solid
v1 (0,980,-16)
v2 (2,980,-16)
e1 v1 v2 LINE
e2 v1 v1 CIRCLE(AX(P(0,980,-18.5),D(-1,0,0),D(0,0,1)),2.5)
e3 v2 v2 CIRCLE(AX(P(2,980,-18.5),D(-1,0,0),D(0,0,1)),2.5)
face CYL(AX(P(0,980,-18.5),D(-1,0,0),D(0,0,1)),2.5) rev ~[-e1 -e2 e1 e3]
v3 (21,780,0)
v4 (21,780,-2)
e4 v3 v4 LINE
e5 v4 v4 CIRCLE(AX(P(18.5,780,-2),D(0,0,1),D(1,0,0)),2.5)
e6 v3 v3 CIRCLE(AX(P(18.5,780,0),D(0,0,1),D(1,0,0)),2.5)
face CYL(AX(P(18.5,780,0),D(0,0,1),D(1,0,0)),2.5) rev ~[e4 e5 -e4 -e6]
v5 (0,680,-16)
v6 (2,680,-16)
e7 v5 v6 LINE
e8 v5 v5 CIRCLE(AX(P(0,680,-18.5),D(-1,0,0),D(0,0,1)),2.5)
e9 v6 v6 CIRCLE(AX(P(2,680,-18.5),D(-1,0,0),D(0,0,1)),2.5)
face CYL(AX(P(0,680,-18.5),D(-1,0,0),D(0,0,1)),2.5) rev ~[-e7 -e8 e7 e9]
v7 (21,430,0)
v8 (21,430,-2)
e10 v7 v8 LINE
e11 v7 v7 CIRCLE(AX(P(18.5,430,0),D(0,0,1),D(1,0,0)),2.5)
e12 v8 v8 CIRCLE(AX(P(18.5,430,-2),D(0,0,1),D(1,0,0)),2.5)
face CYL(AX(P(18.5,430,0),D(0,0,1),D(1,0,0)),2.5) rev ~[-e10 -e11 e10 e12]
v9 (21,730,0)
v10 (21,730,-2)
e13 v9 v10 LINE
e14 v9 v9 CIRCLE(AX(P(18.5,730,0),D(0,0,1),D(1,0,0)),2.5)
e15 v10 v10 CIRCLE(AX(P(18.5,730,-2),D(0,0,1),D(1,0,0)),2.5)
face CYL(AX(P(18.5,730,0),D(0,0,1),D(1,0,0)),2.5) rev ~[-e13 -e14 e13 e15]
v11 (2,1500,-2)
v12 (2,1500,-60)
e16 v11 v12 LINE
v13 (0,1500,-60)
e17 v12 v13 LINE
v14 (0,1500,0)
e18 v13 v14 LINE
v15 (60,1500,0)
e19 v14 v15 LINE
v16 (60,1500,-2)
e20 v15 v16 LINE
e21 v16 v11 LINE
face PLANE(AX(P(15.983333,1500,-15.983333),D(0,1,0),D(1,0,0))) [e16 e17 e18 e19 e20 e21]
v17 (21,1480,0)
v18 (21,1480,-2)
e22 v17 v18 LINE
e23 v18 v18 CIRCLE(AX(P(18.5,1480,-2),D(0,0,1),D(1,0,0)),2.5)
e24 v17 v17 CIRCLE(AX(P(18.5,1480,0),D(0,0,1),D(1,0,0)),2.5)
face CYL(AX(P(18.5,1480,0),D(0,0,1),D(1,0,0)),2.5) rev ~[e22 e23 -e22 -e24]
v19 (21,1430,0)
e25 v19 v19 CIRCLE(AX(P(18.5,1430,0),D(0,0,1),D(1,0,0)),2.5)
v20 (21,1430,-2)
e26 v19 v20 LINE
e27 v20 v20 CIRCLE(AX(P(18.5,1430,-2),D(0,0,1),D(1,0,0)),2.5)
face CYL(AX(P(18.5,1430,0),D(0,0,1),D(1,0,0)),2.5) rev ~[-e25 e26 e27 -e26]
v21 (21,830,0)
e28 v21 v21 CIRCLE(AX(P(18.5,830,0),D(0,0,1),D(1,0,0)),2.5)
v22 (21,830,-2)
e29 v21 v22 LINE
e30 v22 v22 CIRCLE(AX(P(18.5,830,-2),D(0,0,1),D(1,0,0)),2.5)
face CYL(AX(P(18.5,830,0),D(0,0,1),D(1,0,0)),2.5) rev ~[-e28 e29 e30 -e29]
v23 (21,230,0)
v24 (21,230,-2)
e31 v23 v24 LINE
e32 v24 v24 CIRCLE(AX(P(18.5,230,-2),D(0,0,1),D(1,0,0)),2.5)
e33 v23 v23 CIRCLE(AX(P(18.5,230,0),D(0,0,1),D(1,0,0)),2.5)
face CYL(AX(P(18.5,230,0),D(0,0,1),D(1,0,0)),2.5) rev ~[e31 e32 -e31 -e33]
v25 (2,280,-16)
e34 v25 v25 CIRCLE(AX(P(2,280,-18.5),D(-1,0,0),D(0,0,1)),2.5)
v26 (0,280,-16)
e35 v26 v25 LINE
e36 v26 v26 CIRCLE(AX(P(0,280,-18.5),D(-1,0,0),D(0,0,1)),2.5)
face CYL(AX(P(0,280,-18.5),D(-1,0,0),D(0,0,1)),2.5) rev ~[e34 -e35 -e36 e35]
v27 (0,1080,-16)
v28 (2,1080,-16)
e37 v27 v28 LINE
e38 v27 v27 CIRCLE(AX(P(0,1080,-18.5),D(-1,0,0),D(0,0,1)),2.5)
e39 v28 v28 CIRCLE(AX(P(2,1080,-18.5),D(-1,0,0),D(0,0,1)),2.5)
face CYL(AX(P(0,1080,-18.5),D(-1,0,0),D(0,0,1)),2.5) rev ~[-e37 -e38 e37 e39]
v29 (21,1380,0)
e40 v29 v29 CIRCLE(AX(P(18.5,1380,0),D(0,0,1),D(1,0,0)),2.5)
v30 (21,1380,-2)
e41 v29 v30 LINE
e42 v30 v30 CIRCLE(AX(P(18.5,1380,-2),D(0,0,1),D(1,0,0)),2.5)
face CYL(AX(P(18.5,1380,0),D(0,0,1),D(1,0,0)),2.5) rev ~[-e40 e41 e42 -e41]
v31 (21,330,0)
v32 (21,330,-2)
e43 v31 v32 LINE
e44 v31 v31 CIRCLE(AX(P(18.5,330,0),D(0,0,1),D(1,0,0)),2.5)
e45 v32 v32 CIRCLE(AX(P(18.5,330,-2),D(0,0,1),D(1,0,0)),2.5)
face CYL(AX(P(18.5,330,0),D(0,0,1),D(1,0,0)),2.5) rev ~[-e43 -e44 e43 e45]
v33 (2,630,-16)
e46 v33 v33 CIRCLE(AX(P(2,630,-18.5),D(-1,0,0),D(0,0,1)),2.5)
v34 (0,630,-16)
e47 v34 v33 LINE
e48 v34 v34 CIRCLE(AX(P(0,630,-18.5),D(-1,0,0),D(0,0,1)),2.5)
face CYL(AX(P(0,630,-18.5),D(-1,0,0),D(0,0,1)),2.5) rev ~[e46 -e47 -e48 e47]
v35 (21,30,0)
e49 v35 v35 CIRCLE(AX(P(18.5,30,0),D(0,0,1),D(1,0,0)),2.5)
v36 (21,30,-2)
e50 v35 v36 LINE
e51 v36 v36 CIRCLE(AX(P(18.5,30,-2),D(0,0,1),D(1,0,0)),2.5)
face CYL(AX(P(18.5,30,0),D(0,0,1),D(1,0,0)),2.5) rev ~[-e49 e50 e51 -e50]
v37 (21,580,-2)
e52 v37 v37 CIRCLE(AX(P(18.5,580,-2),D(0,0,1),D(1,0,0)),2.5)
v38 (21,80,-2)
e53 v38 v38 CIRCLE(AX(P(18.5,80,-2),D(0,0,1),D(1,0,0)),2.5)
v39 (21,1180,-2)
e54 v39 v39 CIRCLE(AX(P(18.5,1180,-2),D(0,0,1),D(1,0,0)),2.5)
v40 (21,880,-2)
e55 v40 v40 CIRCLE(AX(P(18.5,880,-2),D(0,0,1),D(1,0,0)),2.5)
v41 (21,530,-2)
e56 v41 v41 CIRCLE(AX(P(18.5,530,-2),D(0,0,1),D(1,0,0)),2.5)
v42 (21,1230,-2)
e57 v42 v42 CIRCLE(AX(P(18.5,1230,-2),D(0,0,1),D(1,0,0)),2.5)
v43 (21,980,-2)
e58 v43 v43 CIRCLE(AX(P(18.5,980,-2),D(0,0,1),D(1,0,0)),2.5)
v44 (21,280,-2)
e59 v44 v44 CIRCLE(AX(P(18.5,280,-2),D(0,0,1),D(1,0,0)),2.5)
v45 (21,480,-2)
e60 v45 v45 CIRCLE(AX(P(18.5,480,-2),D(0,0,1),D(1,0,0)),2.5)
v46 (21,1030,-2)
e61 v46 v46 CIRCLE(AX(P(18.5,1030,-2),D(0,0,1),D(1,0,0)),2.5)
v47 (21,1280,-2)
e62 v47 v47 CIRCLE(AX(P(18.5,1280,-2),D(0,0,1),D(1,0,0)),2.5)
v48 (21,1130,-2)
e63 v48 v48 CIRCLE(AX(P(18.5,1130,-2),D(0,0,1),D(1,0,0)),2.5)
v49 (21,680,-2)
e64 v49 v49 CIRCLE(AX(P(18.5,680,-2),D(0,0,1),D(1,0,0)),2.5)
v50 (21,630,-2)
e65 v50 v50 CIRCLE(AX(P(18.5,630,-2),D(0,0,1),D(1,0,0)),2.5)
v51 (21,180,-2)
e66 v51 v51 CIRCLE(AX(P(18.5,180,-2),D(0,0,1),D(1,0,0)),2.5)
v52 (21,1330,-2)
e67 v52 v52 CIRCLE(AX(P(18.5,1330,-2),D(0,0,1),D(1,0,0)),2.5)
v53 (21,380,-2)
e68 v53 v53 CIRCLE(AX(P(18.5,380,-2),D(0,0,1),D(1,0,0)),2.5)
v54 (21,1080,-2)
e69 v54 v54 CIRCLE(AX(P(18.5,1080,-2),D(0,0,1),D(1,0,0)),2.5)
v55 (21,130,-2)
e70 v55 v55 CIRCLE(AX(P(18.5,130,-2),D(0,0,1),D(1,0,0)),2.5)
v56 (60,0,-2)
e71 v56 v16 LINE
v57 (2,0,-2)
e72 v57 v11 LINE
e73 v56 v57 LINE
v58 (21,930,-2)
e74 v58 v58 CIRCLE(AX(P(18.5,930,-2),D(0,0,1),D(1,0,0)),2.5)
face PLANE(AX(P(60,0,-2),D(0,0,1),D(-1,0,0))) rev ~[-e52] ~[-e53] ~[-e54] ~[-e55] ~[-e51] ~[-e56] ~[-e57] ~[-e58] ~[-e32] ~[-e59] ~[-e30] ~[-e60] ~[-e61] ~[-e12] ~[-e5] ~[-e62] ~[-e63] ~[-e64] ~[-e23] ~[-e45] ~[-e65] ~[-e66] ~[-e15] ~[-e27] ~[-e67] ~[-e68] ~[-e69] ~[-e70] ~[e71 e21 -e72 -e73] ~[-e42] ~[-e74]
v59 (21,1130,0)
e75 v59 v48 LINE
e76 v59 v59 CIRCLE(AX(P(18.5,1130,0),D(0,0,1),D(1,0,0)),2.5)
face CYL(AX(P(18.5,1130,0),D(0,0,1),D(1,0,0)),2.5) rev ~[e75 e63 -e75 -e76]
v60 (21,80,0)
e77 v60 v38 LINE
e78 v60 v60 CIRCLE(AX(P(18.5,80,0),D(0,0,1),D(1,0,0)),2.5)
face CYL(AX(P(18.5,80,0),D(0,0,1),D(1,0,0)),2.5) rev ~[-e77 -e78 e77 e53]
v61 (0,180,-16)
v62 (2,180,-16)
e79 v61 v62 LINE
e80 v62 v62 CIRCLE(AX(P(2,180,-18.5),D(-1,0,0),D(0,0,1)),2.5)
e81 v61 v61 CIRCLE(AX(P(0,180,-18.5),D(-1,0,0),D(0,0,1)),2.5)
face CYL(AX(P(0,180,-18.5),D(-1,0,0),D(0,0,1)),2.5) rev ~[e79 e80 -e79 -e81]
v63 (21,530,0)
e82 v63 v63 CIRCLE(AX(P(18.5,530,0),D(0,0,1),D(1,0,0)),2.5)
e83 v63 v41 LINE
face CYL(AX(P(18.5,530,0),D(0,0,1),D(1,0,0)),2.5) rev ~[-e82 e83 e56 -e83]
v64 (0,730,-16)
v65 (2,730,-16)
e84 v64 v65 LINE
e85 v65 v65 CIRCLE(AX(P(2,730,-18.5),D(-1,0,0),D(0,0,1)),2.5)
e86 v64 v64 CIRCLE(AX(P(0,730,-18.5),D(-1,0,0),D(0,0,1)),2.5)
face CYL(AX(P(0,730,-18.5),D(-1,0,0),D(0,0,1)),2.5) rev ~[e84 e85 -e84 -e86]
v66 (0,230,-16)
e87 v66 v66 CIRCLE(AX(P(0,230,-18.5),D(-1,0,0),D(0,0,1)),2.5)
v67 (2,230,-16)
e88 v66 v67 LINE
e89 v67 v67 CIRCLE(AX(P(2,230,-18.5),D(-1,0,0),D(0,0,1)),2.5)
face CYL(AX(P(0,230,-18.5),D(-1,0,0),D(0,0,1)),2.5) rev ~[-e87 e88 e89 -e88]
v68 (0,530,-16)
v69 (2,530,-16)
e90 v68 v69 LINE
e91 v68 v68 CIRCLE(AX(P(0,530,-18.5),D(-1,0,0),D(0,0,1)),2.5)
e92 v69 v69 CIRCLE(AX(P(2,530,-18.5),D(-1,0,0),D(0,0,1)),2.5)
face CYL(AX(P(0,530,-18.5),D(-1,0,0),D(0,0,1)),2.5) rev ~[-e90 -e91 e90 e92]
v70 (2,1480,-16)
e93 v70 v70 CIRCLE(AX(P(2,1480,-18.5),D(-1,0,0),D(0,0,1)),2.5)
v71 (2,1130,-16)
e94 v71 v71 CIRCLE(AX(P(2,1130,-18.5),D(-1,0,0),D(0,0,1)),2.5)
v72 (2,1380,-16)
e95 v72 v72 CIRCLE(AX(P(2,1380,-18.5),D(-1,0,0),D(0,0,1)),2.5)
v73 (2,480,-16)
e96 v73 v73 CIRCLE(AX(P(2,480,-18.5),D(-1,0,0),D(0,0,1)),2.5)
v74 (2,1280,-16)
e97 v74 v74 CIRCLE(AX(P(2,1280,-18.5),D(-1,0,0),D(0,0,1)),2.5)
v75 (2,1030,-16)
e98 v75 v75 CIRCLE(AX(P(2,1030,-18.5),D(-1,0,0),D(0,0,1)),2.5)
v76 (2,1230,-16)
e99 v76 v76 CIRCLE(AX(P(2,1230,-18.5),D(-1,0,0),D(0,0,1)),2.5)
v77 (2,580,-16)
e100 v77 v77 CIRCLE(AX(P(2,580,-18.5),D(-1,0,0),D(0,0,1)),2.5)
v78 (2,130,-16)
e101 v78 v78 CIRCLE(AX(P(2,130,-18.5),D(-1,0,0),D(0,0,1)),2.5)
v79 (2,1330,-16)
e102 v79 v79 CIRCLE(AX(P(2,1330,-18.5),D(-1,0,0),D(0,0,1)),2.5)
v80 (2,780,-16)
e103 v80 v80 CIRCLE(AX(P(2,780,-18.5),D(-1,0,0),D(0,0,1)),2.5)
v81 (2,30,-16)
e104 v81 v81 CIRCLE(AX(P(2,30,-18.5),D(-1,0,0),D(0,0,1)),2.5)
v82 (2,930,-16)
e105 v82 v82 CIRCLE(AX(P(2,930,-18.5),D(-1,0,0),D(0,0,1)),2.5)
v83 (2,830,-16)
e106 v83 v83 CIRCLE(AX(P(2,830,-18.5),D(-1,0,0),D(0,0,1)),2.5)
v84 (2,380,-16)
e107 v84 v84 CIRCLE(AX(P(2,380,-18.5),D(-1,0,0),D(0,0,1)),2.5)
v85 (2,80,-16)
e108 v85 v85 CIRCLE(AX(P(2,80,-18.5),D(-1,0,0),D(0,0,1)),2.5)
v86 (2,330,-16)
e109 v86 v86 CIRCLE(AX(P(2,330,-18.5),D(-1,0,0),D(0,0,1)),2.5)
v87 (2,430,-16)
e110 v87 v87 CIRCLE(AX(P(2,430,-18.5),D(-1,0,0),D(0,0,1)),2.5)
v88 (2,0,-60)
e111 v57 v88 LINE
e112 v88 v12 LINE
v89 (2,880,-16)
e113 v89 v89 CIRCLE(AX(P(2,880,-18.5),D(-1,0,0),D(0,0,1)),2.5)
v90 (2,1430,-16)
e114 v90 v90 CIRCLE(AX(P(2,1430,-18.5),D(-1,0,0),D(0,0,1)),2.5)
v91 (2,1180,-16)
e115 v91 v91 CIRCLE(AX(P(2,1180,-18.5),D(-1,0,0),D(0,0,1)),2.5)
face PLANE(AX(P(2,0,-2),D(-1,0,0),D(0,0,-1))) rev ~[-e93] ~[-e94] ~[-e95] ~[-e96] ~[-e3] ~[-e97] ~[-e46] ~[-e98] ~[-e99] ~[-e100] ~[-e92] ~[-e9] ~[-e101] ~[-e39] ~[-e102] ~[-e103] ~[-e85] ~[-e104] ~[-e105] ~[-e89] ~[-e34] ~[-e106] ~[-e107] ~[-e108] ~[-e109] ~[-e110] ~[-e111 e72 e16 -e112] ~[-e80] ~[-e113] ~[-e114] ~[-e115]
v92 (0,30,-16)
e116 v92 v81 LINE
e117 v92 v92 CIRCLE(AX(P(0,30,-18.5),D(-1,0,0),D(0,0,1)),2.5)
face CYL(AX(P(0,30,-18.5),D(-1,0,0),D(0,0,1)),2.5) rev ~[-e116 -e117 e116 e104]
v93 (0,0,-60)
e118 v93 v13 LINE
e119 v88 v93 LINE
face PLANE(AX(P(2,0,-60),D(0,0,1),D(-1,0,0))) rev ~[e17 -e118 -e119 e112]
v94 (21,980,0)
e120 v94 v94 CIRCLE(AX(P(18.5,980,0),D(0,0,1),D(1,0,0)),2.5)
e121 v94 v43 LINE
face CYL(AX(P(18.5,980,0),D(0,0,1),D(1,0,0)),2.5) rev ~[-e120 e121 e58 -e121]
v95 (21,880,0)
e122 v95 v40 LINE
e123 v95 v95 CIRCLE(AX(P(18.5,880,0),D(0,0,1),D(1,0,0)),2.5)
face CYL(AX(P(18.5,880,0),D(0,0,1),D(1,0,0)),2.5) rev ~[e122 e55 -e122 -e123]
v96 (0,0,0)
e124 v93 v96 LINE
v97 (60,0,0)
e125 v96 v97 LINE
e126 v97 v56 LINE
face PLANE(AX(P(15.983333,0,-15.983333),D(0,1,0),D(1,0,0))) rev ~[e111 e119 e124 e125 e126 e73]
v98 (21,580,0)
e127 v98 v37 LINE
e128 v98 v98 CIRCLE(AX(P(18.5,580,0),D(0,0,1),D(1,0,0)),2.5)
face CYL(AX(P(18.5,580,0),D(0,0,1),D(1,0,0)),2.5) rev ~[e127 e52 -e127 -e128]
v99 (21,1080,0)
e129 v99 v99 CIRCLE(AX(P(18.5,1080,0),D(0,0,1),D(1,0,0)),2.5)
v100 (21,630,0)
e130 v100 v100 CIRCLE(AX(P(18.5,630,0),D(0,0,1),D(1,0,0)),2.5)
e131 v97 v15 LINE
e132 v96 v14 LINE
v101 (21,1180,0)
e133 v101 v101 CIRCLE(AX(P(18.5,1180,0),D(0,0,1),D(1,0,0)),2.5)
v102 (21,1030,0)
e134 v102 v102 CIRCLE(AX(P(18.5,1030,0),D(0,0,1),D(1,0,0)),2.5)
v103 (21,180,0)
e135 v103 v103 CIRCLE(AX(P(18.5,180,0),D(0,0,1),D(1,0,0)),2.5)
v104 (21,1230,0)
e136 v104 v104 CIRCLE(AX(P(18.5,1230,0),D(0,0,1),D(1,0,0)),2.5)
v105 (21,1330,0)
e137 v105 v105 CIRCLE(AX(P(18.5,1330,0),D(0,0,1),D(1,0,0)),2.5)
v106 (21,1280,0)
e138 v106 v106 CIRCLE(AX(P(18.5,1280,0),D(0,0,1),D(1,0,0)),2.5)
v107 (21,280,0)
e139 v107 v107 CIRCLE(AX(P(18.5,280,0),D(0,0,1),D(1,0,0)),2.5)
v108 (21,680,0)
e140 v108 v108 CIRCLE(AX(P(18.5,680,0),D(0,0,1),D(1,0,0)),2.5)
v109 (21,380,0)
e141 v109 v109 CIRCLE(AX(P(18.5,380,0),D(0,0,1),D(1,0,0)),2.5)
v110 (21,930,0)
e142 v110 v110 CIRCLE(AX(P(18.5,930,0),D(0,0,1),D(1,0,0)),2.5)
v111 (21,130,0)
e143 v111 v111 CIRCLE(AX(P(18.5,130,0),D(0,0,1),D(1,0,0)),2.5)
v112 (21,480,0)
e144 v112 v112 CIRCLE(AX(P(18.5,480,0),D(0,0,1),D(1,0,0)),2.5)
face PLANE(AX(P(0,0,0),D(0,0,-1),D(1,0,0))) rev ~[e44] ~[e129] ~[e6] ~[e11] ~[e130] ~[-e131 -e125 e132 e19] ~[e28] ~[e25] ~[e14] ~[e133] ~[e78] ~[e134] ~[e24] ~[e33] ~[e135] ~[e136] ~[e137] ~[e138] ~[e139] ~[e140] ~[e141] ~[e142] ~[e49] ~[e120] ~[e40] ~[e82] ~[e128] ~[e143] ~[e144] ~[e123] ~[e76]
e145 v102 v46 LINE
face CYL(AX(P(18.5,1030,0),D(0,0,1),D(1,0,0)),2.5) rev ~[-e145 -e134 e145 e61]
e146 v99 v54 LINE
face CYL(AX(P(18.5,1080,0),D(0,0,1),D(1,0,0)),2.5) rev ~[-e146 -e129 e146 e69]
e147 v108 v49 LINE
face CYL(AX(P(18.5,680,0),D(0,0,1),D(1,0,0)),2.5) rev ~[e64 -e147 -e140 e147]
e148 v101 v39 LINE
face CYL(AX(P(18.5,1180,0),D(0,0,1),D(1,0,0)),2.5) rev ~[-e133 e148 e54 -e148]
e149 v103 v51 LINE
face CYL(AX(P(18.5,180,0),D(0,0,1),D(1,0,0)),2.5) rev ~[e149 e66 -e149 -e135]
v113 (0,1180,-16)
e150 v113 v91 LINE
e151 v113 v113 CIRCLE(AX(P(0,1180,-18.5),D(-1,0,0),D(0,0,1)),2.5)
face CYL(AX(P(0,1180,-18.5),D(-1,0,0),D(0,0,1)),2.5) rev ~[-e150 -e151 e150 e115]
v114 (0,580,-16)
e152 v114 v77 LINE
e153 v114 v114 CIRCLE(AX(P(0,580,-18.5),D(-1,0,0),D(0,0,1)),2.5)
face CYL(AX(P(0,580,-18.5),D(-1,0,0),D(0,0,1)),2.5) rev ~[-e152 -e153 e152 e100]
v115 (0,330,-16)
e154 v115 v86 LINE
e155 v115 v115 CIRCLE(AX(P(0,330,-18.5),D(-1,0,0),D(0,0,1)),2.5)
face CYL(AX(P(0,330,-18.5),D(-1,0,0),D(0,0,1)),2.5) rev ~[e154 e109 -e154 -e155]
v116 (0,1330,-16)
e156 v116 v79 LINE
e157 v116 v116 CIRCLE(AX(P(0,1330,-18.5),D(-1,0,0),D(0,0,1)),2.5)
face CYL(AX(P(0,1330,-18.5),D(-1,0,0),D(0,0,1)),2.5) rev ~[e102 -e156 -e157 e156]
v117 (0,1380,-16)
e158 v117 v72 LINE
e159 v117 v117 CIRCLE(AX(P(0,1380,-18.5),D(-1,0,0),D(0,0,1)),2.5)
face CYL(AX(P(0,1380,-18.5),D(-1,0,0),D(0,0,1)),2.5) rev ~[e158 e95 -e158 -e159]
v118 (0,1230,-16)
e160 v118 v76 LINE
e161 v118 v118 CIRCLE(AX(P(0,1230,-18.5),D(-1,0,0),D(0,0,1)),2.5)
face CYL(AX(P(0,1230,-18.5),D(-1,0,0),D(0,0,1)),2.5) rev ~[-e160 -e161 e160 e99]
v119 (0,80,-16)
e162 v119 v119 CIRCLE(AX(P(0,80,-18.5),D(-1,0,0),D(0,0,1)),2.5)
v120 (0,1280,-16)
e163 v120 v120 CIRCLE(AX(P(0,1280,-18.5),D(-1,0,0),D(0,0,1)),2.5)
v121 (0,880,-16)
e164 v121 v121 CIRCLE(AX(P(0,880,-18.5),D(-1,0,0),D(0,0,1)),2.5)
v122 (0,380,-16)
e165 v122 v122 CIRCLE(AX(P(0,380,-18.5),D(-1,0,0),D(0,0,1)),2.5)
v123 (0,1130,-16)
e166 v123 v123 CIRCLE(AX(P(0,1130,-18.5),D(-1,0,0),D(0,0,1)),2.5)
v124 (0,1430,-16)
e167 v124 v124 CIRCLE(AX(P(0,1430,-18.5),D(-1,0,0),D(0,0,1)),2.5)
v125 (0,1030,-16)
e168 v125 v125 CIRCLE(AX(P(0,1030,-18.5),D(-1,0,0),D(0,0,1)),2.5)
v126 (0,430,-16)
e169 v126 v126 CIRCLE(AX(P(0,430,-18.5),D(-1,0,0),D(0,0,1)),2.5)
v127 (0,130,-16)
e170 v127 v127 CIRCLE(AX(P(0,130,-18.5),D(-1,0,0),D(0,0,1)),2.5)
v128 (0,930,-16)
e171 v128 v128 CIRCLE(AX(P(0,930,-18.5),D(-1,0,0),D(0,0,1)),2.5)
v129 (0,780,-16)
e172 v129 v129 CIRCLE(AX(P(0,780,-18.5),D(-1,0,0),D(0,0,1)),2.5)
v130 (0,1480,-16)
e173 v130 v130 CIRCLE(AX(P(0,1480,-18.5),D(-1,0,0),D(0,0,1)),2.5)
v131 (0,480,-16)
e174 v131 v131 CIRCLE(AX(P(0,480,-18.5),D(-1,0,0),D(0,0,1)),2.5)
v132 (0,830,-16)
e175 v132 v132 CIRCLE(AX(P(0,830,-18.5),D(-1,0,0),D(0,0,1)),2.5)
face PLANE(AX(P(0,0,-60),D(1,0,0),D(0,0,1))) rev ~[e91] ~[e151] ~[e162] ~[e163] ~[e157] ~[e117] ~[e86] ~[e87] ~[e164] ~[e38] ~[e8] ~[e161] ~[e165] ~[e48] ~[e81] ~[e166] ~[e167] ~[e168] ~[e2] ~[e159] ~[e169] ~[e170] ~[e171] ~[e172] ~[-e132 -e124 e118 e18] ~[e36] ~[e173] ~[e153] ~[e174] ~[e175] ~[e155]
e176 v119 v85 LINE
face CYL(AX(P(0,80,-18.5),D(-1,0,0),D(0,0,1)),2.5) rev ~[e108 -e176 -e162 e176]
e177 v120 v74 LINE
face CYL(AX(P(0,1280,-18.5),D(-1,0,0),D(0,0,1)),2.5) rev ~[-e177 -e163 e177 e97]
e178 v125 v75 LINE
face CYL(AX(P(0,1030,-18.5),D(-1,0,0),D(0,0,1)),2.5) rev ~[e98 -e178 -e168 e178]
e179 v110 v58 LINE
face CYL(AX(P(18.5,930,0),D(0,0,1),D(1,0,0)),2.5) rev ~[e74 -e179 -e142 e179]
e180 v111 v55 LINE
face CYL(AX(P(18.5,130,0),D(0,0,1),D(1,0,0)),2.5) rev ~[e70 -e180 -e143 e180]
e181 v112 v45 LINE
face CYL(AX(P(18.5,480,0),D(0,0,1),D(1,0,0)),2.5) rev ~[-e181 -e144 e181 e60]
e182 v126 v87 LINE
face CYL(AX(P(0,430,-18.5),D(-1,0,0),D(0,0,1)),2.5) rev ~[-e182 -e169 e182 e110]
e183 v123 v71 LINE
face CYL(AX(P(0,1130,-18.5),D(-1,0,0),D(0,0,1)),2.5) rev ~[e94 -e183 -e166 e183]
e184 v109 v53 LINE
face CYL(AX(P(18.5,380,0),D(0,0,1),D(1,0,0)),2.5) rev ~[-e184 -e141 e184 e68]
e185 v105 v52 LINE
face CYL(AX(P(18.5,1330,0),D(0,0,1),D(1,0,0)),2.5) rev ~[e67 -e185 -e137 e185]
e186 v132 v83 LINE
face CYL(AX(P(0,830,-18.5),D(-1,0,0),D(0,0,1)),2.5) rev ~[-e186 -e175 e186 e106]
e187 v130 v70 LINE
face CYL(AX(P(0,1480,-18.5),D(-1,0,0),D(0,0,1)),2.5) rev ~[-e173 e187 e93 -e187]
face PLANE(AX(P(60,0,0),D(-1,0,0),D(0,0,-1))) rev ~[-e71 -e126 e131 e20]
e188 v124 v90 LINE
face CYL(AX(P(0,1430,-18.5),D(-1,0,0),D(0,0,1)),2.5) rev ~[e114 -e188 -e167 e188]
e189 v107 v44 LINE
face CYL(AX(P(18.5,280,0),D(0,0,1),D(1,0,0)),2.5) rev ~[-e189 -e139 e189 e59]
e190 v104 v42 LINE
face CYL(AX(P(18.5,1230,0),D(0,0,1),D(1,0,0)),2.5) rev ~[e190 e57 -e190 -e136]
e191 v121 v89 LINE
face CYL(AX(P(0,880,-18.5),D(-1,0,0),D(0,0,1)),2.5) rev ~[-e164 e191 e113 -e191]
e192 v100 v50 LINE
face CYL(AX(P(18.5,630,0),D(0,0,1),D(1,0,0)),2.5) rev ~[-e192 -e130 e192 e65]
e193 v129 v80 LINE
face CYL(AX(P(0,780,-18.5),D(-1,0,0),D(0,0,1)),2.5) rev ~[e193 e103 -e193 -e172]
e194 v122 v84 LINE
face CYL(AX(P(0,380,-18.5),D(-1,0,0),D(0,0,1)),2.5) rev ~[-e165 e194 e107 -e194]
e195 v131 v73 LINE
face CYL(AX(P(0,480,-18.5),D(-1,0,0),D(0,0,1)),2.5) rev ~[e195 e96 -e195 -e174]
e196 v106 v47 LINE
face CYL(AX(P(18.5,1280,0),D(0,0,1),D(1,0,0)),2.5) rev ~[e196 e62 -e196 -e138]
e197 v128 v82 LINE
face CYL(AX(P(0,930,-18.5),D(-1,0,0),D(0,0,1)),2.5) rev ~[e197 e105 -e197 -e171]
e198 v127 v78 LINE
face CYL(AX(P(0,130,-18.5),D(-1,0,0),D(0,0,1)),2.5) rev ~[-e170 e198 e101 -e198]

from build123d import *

# Parameters (mm, degrees)
EXTRUDE_1_DEPTH     = 1500
SKETCH_2_R          = 2.5
CUT_EXTRUDE_1_DEPTH = 61
SKETCH_3_R          = 2.5
CUT_EXTRUDE_2_DEPTH = 61


with BuildPart() as part:
    # Эскиз1 → Вытянуть-Тонкостенный1 (new body)
    with BuildSketch(Plane(origin=(0, 0, 0), x_dir=(1, 0, 0), z_dir=(0, 1, 0))):
        Polygon((0, 60), (0, 0), (60, 0), (60, 2), (2, 2), (2, 60), align=None)
    extrude(amount=EXTRUDE_1_DEPTH)

    # Эскиз2 → Вырез-Вытянуть1 (cut, through all)
    with BuildSketch(Plane.ZY):
        with Locations((-18.5, 30)):
            Circle(SKETCH_2_R)
        with Locations((-18.5, 80)):
            Circle(SKETCH_2_R)
        with Locations((-18.5, 130)):
            Circle(SKETCH_2_R)
        with Locations((-18.5, 180)):
            Circle(SKETCH_2_R)
        with Locations((-18.5, 230)):
            Circle(SKETCH_2_R)
        with Locations((-18.5, 280)):
            Circle(SKETCH_2_R)
        with Locations((-18.5, 330)):
            Circle(SKETCH_2_R)
        with Locations((-18.5, 380)):
            Circle(SKETCH_2_R)
        with Locations((-18.5, 430)):
            Circle(SKETCH_2_R)
        with Locations((-18.5, 480)):
            Circle(SKETCH_2_R)
        with Locations((-18.5, 530)):
            Circle(SKETCH_2_R)
        with Locations((-18.5, 580)):
            Circle(SKETCH_2_R)
        with Locations((-18.5, 630)):
            Circle(SKETCH_2_R)
        with Locations((-18.5, 680)):
            Circle(SKETCH_2_R)
        with Locations((-18.5, 730)):
            Circle(SKETCH_2_R)
        with Locations((-18.5, 780)):
            Circle(SKETCH_2_R)
        with Locations((-18.5, 830)):
            Circle(SKETCH_2_R)
        with Locations((-18.5, 880)):
            Circle(SKETCH_2_R)
        with Locations((-18.5, 930)):
            Circle(SKETCH_2_R)
        with Locations((-18.5, 980)):
            Circle(SKETCH_2_R)
        with Locations((-18.5, 1030)):
            Circle(SKETCH_2_R)
        with Locations((-18.5, 1080)):
            Circle(SKETCH_2_R)
        with Locations((-18.5, 1130)):
            Circle(SKETCH_2_R)
        with Locations((-18.5, 1180)):
            Circle(SKETCH_2_R)
        with Locations((-18.5, 1230)):
            Circle(SKETCH_2_R)
        with Locations((-18.5, 1280)):
            Circle(SKETCH_2_R)
        with Locations((-18.5, 1330)):
            Circle(SKETCH_2_R)
        with Locations((-18.5, 1380)):
            Circle(SKETCH_2_R)
        with Locations((-18.5, 1430)):
            Circle(SKETCH_2_R)
        with Locations((-18.5, 1480)):
            Circle(SKETCH_2_R)
    extrude(amount=-CUT_EXTRUDE_1_DEPTH, mode=Mode.SUBTRACT)

    # Эскиз3 → Вырез-Вытянуть2 (cut, through all)
    with BuildSketch(Plane.XY):
        with Locations((18.5, 30)):
            Circle(SKETCH_3_R)
        with Locations((18.5, 80)):
            Circle(SKETCH_3_R)
        with Locations((18.5, 130)):
            Circle(SKETCH_3_R)
        with Locations((18.5, 180)):
            Circle(SKETCH_3_R)
        with Locations((18.5, 230)):
            Circle(SKETCH_3_R)
        with Locations((18.5, 280)):
            Circle(SKETCH_3_R)
        with Locations((18.5, 330)):
            Circle(SKETCH_3_R)
        with Locations((18.5, 380)):
            Circle(SKETCH_3_R)
        with Locations((18.5, 430)):
            Circle(SKETCH_3_R)
        with Locations((18.5, 480)):
            Circle(SKETCH_3_R)
        with Locations((18.5, 530)):
            Circle(SKETCH_3_R)
        with Locations((18.5, 580)):
            Circle(SKETCH_3_R)
        with Locations((18.5, 630)):
            Circle(SKETCH_3_R)
        with Locations((18.5, 680)):
            Circle(SKETCH_3_R)
        with Locations((18.5, 730)):
            Circle(SKETCH_3_R)
        with Locations((18.5, 780)):
            Circle(SKETCH_3_R)
        with Locations((18.5, 830)):
            Circle(SKETCH_3_R)
        with Locations((18.5, 880)):
            Circle(SKETCH_3_R)
        with Locations((18.5, 930)):
            Circle(SKETCH_3_R)
        with Locations((18.5, 980)):
            Circle(SKETCH_3_R)
        with Locations((18.5, 1030)):
            Circle(SKETCH_3_R)
        with Locations((18.5, 1080)):
            Circle(SKETCH_3_R)
        with Locations((18.5, 1130)):
            Circle(SKETCH_3_R)
        with Locations((18.5, 1180)):
            Circle(SKETCH_3_R)
        with Locations((18.5, 1230)):
            Circle(SKETCH_3_R)
        with Locations((18.5, 1280)):
            Circle(SKETCH_3_R)
        with Locations((18.5, 1330)):
            Circle(SKETCH_3_R)
        with Locations((18.5, 1380)):
            Circle(SKETCH_3_R)
        with Locations((18.5, 1430)):
            Circle(SKETCH_3_R)
        with Locations((18.5, 1480)):
            Circle(SKETCH_3_R)
    extrude(amount=-CUT_EXTRUDE_2_DEPTH, mode=Mode.SUBTRACT)


solid = part.part
